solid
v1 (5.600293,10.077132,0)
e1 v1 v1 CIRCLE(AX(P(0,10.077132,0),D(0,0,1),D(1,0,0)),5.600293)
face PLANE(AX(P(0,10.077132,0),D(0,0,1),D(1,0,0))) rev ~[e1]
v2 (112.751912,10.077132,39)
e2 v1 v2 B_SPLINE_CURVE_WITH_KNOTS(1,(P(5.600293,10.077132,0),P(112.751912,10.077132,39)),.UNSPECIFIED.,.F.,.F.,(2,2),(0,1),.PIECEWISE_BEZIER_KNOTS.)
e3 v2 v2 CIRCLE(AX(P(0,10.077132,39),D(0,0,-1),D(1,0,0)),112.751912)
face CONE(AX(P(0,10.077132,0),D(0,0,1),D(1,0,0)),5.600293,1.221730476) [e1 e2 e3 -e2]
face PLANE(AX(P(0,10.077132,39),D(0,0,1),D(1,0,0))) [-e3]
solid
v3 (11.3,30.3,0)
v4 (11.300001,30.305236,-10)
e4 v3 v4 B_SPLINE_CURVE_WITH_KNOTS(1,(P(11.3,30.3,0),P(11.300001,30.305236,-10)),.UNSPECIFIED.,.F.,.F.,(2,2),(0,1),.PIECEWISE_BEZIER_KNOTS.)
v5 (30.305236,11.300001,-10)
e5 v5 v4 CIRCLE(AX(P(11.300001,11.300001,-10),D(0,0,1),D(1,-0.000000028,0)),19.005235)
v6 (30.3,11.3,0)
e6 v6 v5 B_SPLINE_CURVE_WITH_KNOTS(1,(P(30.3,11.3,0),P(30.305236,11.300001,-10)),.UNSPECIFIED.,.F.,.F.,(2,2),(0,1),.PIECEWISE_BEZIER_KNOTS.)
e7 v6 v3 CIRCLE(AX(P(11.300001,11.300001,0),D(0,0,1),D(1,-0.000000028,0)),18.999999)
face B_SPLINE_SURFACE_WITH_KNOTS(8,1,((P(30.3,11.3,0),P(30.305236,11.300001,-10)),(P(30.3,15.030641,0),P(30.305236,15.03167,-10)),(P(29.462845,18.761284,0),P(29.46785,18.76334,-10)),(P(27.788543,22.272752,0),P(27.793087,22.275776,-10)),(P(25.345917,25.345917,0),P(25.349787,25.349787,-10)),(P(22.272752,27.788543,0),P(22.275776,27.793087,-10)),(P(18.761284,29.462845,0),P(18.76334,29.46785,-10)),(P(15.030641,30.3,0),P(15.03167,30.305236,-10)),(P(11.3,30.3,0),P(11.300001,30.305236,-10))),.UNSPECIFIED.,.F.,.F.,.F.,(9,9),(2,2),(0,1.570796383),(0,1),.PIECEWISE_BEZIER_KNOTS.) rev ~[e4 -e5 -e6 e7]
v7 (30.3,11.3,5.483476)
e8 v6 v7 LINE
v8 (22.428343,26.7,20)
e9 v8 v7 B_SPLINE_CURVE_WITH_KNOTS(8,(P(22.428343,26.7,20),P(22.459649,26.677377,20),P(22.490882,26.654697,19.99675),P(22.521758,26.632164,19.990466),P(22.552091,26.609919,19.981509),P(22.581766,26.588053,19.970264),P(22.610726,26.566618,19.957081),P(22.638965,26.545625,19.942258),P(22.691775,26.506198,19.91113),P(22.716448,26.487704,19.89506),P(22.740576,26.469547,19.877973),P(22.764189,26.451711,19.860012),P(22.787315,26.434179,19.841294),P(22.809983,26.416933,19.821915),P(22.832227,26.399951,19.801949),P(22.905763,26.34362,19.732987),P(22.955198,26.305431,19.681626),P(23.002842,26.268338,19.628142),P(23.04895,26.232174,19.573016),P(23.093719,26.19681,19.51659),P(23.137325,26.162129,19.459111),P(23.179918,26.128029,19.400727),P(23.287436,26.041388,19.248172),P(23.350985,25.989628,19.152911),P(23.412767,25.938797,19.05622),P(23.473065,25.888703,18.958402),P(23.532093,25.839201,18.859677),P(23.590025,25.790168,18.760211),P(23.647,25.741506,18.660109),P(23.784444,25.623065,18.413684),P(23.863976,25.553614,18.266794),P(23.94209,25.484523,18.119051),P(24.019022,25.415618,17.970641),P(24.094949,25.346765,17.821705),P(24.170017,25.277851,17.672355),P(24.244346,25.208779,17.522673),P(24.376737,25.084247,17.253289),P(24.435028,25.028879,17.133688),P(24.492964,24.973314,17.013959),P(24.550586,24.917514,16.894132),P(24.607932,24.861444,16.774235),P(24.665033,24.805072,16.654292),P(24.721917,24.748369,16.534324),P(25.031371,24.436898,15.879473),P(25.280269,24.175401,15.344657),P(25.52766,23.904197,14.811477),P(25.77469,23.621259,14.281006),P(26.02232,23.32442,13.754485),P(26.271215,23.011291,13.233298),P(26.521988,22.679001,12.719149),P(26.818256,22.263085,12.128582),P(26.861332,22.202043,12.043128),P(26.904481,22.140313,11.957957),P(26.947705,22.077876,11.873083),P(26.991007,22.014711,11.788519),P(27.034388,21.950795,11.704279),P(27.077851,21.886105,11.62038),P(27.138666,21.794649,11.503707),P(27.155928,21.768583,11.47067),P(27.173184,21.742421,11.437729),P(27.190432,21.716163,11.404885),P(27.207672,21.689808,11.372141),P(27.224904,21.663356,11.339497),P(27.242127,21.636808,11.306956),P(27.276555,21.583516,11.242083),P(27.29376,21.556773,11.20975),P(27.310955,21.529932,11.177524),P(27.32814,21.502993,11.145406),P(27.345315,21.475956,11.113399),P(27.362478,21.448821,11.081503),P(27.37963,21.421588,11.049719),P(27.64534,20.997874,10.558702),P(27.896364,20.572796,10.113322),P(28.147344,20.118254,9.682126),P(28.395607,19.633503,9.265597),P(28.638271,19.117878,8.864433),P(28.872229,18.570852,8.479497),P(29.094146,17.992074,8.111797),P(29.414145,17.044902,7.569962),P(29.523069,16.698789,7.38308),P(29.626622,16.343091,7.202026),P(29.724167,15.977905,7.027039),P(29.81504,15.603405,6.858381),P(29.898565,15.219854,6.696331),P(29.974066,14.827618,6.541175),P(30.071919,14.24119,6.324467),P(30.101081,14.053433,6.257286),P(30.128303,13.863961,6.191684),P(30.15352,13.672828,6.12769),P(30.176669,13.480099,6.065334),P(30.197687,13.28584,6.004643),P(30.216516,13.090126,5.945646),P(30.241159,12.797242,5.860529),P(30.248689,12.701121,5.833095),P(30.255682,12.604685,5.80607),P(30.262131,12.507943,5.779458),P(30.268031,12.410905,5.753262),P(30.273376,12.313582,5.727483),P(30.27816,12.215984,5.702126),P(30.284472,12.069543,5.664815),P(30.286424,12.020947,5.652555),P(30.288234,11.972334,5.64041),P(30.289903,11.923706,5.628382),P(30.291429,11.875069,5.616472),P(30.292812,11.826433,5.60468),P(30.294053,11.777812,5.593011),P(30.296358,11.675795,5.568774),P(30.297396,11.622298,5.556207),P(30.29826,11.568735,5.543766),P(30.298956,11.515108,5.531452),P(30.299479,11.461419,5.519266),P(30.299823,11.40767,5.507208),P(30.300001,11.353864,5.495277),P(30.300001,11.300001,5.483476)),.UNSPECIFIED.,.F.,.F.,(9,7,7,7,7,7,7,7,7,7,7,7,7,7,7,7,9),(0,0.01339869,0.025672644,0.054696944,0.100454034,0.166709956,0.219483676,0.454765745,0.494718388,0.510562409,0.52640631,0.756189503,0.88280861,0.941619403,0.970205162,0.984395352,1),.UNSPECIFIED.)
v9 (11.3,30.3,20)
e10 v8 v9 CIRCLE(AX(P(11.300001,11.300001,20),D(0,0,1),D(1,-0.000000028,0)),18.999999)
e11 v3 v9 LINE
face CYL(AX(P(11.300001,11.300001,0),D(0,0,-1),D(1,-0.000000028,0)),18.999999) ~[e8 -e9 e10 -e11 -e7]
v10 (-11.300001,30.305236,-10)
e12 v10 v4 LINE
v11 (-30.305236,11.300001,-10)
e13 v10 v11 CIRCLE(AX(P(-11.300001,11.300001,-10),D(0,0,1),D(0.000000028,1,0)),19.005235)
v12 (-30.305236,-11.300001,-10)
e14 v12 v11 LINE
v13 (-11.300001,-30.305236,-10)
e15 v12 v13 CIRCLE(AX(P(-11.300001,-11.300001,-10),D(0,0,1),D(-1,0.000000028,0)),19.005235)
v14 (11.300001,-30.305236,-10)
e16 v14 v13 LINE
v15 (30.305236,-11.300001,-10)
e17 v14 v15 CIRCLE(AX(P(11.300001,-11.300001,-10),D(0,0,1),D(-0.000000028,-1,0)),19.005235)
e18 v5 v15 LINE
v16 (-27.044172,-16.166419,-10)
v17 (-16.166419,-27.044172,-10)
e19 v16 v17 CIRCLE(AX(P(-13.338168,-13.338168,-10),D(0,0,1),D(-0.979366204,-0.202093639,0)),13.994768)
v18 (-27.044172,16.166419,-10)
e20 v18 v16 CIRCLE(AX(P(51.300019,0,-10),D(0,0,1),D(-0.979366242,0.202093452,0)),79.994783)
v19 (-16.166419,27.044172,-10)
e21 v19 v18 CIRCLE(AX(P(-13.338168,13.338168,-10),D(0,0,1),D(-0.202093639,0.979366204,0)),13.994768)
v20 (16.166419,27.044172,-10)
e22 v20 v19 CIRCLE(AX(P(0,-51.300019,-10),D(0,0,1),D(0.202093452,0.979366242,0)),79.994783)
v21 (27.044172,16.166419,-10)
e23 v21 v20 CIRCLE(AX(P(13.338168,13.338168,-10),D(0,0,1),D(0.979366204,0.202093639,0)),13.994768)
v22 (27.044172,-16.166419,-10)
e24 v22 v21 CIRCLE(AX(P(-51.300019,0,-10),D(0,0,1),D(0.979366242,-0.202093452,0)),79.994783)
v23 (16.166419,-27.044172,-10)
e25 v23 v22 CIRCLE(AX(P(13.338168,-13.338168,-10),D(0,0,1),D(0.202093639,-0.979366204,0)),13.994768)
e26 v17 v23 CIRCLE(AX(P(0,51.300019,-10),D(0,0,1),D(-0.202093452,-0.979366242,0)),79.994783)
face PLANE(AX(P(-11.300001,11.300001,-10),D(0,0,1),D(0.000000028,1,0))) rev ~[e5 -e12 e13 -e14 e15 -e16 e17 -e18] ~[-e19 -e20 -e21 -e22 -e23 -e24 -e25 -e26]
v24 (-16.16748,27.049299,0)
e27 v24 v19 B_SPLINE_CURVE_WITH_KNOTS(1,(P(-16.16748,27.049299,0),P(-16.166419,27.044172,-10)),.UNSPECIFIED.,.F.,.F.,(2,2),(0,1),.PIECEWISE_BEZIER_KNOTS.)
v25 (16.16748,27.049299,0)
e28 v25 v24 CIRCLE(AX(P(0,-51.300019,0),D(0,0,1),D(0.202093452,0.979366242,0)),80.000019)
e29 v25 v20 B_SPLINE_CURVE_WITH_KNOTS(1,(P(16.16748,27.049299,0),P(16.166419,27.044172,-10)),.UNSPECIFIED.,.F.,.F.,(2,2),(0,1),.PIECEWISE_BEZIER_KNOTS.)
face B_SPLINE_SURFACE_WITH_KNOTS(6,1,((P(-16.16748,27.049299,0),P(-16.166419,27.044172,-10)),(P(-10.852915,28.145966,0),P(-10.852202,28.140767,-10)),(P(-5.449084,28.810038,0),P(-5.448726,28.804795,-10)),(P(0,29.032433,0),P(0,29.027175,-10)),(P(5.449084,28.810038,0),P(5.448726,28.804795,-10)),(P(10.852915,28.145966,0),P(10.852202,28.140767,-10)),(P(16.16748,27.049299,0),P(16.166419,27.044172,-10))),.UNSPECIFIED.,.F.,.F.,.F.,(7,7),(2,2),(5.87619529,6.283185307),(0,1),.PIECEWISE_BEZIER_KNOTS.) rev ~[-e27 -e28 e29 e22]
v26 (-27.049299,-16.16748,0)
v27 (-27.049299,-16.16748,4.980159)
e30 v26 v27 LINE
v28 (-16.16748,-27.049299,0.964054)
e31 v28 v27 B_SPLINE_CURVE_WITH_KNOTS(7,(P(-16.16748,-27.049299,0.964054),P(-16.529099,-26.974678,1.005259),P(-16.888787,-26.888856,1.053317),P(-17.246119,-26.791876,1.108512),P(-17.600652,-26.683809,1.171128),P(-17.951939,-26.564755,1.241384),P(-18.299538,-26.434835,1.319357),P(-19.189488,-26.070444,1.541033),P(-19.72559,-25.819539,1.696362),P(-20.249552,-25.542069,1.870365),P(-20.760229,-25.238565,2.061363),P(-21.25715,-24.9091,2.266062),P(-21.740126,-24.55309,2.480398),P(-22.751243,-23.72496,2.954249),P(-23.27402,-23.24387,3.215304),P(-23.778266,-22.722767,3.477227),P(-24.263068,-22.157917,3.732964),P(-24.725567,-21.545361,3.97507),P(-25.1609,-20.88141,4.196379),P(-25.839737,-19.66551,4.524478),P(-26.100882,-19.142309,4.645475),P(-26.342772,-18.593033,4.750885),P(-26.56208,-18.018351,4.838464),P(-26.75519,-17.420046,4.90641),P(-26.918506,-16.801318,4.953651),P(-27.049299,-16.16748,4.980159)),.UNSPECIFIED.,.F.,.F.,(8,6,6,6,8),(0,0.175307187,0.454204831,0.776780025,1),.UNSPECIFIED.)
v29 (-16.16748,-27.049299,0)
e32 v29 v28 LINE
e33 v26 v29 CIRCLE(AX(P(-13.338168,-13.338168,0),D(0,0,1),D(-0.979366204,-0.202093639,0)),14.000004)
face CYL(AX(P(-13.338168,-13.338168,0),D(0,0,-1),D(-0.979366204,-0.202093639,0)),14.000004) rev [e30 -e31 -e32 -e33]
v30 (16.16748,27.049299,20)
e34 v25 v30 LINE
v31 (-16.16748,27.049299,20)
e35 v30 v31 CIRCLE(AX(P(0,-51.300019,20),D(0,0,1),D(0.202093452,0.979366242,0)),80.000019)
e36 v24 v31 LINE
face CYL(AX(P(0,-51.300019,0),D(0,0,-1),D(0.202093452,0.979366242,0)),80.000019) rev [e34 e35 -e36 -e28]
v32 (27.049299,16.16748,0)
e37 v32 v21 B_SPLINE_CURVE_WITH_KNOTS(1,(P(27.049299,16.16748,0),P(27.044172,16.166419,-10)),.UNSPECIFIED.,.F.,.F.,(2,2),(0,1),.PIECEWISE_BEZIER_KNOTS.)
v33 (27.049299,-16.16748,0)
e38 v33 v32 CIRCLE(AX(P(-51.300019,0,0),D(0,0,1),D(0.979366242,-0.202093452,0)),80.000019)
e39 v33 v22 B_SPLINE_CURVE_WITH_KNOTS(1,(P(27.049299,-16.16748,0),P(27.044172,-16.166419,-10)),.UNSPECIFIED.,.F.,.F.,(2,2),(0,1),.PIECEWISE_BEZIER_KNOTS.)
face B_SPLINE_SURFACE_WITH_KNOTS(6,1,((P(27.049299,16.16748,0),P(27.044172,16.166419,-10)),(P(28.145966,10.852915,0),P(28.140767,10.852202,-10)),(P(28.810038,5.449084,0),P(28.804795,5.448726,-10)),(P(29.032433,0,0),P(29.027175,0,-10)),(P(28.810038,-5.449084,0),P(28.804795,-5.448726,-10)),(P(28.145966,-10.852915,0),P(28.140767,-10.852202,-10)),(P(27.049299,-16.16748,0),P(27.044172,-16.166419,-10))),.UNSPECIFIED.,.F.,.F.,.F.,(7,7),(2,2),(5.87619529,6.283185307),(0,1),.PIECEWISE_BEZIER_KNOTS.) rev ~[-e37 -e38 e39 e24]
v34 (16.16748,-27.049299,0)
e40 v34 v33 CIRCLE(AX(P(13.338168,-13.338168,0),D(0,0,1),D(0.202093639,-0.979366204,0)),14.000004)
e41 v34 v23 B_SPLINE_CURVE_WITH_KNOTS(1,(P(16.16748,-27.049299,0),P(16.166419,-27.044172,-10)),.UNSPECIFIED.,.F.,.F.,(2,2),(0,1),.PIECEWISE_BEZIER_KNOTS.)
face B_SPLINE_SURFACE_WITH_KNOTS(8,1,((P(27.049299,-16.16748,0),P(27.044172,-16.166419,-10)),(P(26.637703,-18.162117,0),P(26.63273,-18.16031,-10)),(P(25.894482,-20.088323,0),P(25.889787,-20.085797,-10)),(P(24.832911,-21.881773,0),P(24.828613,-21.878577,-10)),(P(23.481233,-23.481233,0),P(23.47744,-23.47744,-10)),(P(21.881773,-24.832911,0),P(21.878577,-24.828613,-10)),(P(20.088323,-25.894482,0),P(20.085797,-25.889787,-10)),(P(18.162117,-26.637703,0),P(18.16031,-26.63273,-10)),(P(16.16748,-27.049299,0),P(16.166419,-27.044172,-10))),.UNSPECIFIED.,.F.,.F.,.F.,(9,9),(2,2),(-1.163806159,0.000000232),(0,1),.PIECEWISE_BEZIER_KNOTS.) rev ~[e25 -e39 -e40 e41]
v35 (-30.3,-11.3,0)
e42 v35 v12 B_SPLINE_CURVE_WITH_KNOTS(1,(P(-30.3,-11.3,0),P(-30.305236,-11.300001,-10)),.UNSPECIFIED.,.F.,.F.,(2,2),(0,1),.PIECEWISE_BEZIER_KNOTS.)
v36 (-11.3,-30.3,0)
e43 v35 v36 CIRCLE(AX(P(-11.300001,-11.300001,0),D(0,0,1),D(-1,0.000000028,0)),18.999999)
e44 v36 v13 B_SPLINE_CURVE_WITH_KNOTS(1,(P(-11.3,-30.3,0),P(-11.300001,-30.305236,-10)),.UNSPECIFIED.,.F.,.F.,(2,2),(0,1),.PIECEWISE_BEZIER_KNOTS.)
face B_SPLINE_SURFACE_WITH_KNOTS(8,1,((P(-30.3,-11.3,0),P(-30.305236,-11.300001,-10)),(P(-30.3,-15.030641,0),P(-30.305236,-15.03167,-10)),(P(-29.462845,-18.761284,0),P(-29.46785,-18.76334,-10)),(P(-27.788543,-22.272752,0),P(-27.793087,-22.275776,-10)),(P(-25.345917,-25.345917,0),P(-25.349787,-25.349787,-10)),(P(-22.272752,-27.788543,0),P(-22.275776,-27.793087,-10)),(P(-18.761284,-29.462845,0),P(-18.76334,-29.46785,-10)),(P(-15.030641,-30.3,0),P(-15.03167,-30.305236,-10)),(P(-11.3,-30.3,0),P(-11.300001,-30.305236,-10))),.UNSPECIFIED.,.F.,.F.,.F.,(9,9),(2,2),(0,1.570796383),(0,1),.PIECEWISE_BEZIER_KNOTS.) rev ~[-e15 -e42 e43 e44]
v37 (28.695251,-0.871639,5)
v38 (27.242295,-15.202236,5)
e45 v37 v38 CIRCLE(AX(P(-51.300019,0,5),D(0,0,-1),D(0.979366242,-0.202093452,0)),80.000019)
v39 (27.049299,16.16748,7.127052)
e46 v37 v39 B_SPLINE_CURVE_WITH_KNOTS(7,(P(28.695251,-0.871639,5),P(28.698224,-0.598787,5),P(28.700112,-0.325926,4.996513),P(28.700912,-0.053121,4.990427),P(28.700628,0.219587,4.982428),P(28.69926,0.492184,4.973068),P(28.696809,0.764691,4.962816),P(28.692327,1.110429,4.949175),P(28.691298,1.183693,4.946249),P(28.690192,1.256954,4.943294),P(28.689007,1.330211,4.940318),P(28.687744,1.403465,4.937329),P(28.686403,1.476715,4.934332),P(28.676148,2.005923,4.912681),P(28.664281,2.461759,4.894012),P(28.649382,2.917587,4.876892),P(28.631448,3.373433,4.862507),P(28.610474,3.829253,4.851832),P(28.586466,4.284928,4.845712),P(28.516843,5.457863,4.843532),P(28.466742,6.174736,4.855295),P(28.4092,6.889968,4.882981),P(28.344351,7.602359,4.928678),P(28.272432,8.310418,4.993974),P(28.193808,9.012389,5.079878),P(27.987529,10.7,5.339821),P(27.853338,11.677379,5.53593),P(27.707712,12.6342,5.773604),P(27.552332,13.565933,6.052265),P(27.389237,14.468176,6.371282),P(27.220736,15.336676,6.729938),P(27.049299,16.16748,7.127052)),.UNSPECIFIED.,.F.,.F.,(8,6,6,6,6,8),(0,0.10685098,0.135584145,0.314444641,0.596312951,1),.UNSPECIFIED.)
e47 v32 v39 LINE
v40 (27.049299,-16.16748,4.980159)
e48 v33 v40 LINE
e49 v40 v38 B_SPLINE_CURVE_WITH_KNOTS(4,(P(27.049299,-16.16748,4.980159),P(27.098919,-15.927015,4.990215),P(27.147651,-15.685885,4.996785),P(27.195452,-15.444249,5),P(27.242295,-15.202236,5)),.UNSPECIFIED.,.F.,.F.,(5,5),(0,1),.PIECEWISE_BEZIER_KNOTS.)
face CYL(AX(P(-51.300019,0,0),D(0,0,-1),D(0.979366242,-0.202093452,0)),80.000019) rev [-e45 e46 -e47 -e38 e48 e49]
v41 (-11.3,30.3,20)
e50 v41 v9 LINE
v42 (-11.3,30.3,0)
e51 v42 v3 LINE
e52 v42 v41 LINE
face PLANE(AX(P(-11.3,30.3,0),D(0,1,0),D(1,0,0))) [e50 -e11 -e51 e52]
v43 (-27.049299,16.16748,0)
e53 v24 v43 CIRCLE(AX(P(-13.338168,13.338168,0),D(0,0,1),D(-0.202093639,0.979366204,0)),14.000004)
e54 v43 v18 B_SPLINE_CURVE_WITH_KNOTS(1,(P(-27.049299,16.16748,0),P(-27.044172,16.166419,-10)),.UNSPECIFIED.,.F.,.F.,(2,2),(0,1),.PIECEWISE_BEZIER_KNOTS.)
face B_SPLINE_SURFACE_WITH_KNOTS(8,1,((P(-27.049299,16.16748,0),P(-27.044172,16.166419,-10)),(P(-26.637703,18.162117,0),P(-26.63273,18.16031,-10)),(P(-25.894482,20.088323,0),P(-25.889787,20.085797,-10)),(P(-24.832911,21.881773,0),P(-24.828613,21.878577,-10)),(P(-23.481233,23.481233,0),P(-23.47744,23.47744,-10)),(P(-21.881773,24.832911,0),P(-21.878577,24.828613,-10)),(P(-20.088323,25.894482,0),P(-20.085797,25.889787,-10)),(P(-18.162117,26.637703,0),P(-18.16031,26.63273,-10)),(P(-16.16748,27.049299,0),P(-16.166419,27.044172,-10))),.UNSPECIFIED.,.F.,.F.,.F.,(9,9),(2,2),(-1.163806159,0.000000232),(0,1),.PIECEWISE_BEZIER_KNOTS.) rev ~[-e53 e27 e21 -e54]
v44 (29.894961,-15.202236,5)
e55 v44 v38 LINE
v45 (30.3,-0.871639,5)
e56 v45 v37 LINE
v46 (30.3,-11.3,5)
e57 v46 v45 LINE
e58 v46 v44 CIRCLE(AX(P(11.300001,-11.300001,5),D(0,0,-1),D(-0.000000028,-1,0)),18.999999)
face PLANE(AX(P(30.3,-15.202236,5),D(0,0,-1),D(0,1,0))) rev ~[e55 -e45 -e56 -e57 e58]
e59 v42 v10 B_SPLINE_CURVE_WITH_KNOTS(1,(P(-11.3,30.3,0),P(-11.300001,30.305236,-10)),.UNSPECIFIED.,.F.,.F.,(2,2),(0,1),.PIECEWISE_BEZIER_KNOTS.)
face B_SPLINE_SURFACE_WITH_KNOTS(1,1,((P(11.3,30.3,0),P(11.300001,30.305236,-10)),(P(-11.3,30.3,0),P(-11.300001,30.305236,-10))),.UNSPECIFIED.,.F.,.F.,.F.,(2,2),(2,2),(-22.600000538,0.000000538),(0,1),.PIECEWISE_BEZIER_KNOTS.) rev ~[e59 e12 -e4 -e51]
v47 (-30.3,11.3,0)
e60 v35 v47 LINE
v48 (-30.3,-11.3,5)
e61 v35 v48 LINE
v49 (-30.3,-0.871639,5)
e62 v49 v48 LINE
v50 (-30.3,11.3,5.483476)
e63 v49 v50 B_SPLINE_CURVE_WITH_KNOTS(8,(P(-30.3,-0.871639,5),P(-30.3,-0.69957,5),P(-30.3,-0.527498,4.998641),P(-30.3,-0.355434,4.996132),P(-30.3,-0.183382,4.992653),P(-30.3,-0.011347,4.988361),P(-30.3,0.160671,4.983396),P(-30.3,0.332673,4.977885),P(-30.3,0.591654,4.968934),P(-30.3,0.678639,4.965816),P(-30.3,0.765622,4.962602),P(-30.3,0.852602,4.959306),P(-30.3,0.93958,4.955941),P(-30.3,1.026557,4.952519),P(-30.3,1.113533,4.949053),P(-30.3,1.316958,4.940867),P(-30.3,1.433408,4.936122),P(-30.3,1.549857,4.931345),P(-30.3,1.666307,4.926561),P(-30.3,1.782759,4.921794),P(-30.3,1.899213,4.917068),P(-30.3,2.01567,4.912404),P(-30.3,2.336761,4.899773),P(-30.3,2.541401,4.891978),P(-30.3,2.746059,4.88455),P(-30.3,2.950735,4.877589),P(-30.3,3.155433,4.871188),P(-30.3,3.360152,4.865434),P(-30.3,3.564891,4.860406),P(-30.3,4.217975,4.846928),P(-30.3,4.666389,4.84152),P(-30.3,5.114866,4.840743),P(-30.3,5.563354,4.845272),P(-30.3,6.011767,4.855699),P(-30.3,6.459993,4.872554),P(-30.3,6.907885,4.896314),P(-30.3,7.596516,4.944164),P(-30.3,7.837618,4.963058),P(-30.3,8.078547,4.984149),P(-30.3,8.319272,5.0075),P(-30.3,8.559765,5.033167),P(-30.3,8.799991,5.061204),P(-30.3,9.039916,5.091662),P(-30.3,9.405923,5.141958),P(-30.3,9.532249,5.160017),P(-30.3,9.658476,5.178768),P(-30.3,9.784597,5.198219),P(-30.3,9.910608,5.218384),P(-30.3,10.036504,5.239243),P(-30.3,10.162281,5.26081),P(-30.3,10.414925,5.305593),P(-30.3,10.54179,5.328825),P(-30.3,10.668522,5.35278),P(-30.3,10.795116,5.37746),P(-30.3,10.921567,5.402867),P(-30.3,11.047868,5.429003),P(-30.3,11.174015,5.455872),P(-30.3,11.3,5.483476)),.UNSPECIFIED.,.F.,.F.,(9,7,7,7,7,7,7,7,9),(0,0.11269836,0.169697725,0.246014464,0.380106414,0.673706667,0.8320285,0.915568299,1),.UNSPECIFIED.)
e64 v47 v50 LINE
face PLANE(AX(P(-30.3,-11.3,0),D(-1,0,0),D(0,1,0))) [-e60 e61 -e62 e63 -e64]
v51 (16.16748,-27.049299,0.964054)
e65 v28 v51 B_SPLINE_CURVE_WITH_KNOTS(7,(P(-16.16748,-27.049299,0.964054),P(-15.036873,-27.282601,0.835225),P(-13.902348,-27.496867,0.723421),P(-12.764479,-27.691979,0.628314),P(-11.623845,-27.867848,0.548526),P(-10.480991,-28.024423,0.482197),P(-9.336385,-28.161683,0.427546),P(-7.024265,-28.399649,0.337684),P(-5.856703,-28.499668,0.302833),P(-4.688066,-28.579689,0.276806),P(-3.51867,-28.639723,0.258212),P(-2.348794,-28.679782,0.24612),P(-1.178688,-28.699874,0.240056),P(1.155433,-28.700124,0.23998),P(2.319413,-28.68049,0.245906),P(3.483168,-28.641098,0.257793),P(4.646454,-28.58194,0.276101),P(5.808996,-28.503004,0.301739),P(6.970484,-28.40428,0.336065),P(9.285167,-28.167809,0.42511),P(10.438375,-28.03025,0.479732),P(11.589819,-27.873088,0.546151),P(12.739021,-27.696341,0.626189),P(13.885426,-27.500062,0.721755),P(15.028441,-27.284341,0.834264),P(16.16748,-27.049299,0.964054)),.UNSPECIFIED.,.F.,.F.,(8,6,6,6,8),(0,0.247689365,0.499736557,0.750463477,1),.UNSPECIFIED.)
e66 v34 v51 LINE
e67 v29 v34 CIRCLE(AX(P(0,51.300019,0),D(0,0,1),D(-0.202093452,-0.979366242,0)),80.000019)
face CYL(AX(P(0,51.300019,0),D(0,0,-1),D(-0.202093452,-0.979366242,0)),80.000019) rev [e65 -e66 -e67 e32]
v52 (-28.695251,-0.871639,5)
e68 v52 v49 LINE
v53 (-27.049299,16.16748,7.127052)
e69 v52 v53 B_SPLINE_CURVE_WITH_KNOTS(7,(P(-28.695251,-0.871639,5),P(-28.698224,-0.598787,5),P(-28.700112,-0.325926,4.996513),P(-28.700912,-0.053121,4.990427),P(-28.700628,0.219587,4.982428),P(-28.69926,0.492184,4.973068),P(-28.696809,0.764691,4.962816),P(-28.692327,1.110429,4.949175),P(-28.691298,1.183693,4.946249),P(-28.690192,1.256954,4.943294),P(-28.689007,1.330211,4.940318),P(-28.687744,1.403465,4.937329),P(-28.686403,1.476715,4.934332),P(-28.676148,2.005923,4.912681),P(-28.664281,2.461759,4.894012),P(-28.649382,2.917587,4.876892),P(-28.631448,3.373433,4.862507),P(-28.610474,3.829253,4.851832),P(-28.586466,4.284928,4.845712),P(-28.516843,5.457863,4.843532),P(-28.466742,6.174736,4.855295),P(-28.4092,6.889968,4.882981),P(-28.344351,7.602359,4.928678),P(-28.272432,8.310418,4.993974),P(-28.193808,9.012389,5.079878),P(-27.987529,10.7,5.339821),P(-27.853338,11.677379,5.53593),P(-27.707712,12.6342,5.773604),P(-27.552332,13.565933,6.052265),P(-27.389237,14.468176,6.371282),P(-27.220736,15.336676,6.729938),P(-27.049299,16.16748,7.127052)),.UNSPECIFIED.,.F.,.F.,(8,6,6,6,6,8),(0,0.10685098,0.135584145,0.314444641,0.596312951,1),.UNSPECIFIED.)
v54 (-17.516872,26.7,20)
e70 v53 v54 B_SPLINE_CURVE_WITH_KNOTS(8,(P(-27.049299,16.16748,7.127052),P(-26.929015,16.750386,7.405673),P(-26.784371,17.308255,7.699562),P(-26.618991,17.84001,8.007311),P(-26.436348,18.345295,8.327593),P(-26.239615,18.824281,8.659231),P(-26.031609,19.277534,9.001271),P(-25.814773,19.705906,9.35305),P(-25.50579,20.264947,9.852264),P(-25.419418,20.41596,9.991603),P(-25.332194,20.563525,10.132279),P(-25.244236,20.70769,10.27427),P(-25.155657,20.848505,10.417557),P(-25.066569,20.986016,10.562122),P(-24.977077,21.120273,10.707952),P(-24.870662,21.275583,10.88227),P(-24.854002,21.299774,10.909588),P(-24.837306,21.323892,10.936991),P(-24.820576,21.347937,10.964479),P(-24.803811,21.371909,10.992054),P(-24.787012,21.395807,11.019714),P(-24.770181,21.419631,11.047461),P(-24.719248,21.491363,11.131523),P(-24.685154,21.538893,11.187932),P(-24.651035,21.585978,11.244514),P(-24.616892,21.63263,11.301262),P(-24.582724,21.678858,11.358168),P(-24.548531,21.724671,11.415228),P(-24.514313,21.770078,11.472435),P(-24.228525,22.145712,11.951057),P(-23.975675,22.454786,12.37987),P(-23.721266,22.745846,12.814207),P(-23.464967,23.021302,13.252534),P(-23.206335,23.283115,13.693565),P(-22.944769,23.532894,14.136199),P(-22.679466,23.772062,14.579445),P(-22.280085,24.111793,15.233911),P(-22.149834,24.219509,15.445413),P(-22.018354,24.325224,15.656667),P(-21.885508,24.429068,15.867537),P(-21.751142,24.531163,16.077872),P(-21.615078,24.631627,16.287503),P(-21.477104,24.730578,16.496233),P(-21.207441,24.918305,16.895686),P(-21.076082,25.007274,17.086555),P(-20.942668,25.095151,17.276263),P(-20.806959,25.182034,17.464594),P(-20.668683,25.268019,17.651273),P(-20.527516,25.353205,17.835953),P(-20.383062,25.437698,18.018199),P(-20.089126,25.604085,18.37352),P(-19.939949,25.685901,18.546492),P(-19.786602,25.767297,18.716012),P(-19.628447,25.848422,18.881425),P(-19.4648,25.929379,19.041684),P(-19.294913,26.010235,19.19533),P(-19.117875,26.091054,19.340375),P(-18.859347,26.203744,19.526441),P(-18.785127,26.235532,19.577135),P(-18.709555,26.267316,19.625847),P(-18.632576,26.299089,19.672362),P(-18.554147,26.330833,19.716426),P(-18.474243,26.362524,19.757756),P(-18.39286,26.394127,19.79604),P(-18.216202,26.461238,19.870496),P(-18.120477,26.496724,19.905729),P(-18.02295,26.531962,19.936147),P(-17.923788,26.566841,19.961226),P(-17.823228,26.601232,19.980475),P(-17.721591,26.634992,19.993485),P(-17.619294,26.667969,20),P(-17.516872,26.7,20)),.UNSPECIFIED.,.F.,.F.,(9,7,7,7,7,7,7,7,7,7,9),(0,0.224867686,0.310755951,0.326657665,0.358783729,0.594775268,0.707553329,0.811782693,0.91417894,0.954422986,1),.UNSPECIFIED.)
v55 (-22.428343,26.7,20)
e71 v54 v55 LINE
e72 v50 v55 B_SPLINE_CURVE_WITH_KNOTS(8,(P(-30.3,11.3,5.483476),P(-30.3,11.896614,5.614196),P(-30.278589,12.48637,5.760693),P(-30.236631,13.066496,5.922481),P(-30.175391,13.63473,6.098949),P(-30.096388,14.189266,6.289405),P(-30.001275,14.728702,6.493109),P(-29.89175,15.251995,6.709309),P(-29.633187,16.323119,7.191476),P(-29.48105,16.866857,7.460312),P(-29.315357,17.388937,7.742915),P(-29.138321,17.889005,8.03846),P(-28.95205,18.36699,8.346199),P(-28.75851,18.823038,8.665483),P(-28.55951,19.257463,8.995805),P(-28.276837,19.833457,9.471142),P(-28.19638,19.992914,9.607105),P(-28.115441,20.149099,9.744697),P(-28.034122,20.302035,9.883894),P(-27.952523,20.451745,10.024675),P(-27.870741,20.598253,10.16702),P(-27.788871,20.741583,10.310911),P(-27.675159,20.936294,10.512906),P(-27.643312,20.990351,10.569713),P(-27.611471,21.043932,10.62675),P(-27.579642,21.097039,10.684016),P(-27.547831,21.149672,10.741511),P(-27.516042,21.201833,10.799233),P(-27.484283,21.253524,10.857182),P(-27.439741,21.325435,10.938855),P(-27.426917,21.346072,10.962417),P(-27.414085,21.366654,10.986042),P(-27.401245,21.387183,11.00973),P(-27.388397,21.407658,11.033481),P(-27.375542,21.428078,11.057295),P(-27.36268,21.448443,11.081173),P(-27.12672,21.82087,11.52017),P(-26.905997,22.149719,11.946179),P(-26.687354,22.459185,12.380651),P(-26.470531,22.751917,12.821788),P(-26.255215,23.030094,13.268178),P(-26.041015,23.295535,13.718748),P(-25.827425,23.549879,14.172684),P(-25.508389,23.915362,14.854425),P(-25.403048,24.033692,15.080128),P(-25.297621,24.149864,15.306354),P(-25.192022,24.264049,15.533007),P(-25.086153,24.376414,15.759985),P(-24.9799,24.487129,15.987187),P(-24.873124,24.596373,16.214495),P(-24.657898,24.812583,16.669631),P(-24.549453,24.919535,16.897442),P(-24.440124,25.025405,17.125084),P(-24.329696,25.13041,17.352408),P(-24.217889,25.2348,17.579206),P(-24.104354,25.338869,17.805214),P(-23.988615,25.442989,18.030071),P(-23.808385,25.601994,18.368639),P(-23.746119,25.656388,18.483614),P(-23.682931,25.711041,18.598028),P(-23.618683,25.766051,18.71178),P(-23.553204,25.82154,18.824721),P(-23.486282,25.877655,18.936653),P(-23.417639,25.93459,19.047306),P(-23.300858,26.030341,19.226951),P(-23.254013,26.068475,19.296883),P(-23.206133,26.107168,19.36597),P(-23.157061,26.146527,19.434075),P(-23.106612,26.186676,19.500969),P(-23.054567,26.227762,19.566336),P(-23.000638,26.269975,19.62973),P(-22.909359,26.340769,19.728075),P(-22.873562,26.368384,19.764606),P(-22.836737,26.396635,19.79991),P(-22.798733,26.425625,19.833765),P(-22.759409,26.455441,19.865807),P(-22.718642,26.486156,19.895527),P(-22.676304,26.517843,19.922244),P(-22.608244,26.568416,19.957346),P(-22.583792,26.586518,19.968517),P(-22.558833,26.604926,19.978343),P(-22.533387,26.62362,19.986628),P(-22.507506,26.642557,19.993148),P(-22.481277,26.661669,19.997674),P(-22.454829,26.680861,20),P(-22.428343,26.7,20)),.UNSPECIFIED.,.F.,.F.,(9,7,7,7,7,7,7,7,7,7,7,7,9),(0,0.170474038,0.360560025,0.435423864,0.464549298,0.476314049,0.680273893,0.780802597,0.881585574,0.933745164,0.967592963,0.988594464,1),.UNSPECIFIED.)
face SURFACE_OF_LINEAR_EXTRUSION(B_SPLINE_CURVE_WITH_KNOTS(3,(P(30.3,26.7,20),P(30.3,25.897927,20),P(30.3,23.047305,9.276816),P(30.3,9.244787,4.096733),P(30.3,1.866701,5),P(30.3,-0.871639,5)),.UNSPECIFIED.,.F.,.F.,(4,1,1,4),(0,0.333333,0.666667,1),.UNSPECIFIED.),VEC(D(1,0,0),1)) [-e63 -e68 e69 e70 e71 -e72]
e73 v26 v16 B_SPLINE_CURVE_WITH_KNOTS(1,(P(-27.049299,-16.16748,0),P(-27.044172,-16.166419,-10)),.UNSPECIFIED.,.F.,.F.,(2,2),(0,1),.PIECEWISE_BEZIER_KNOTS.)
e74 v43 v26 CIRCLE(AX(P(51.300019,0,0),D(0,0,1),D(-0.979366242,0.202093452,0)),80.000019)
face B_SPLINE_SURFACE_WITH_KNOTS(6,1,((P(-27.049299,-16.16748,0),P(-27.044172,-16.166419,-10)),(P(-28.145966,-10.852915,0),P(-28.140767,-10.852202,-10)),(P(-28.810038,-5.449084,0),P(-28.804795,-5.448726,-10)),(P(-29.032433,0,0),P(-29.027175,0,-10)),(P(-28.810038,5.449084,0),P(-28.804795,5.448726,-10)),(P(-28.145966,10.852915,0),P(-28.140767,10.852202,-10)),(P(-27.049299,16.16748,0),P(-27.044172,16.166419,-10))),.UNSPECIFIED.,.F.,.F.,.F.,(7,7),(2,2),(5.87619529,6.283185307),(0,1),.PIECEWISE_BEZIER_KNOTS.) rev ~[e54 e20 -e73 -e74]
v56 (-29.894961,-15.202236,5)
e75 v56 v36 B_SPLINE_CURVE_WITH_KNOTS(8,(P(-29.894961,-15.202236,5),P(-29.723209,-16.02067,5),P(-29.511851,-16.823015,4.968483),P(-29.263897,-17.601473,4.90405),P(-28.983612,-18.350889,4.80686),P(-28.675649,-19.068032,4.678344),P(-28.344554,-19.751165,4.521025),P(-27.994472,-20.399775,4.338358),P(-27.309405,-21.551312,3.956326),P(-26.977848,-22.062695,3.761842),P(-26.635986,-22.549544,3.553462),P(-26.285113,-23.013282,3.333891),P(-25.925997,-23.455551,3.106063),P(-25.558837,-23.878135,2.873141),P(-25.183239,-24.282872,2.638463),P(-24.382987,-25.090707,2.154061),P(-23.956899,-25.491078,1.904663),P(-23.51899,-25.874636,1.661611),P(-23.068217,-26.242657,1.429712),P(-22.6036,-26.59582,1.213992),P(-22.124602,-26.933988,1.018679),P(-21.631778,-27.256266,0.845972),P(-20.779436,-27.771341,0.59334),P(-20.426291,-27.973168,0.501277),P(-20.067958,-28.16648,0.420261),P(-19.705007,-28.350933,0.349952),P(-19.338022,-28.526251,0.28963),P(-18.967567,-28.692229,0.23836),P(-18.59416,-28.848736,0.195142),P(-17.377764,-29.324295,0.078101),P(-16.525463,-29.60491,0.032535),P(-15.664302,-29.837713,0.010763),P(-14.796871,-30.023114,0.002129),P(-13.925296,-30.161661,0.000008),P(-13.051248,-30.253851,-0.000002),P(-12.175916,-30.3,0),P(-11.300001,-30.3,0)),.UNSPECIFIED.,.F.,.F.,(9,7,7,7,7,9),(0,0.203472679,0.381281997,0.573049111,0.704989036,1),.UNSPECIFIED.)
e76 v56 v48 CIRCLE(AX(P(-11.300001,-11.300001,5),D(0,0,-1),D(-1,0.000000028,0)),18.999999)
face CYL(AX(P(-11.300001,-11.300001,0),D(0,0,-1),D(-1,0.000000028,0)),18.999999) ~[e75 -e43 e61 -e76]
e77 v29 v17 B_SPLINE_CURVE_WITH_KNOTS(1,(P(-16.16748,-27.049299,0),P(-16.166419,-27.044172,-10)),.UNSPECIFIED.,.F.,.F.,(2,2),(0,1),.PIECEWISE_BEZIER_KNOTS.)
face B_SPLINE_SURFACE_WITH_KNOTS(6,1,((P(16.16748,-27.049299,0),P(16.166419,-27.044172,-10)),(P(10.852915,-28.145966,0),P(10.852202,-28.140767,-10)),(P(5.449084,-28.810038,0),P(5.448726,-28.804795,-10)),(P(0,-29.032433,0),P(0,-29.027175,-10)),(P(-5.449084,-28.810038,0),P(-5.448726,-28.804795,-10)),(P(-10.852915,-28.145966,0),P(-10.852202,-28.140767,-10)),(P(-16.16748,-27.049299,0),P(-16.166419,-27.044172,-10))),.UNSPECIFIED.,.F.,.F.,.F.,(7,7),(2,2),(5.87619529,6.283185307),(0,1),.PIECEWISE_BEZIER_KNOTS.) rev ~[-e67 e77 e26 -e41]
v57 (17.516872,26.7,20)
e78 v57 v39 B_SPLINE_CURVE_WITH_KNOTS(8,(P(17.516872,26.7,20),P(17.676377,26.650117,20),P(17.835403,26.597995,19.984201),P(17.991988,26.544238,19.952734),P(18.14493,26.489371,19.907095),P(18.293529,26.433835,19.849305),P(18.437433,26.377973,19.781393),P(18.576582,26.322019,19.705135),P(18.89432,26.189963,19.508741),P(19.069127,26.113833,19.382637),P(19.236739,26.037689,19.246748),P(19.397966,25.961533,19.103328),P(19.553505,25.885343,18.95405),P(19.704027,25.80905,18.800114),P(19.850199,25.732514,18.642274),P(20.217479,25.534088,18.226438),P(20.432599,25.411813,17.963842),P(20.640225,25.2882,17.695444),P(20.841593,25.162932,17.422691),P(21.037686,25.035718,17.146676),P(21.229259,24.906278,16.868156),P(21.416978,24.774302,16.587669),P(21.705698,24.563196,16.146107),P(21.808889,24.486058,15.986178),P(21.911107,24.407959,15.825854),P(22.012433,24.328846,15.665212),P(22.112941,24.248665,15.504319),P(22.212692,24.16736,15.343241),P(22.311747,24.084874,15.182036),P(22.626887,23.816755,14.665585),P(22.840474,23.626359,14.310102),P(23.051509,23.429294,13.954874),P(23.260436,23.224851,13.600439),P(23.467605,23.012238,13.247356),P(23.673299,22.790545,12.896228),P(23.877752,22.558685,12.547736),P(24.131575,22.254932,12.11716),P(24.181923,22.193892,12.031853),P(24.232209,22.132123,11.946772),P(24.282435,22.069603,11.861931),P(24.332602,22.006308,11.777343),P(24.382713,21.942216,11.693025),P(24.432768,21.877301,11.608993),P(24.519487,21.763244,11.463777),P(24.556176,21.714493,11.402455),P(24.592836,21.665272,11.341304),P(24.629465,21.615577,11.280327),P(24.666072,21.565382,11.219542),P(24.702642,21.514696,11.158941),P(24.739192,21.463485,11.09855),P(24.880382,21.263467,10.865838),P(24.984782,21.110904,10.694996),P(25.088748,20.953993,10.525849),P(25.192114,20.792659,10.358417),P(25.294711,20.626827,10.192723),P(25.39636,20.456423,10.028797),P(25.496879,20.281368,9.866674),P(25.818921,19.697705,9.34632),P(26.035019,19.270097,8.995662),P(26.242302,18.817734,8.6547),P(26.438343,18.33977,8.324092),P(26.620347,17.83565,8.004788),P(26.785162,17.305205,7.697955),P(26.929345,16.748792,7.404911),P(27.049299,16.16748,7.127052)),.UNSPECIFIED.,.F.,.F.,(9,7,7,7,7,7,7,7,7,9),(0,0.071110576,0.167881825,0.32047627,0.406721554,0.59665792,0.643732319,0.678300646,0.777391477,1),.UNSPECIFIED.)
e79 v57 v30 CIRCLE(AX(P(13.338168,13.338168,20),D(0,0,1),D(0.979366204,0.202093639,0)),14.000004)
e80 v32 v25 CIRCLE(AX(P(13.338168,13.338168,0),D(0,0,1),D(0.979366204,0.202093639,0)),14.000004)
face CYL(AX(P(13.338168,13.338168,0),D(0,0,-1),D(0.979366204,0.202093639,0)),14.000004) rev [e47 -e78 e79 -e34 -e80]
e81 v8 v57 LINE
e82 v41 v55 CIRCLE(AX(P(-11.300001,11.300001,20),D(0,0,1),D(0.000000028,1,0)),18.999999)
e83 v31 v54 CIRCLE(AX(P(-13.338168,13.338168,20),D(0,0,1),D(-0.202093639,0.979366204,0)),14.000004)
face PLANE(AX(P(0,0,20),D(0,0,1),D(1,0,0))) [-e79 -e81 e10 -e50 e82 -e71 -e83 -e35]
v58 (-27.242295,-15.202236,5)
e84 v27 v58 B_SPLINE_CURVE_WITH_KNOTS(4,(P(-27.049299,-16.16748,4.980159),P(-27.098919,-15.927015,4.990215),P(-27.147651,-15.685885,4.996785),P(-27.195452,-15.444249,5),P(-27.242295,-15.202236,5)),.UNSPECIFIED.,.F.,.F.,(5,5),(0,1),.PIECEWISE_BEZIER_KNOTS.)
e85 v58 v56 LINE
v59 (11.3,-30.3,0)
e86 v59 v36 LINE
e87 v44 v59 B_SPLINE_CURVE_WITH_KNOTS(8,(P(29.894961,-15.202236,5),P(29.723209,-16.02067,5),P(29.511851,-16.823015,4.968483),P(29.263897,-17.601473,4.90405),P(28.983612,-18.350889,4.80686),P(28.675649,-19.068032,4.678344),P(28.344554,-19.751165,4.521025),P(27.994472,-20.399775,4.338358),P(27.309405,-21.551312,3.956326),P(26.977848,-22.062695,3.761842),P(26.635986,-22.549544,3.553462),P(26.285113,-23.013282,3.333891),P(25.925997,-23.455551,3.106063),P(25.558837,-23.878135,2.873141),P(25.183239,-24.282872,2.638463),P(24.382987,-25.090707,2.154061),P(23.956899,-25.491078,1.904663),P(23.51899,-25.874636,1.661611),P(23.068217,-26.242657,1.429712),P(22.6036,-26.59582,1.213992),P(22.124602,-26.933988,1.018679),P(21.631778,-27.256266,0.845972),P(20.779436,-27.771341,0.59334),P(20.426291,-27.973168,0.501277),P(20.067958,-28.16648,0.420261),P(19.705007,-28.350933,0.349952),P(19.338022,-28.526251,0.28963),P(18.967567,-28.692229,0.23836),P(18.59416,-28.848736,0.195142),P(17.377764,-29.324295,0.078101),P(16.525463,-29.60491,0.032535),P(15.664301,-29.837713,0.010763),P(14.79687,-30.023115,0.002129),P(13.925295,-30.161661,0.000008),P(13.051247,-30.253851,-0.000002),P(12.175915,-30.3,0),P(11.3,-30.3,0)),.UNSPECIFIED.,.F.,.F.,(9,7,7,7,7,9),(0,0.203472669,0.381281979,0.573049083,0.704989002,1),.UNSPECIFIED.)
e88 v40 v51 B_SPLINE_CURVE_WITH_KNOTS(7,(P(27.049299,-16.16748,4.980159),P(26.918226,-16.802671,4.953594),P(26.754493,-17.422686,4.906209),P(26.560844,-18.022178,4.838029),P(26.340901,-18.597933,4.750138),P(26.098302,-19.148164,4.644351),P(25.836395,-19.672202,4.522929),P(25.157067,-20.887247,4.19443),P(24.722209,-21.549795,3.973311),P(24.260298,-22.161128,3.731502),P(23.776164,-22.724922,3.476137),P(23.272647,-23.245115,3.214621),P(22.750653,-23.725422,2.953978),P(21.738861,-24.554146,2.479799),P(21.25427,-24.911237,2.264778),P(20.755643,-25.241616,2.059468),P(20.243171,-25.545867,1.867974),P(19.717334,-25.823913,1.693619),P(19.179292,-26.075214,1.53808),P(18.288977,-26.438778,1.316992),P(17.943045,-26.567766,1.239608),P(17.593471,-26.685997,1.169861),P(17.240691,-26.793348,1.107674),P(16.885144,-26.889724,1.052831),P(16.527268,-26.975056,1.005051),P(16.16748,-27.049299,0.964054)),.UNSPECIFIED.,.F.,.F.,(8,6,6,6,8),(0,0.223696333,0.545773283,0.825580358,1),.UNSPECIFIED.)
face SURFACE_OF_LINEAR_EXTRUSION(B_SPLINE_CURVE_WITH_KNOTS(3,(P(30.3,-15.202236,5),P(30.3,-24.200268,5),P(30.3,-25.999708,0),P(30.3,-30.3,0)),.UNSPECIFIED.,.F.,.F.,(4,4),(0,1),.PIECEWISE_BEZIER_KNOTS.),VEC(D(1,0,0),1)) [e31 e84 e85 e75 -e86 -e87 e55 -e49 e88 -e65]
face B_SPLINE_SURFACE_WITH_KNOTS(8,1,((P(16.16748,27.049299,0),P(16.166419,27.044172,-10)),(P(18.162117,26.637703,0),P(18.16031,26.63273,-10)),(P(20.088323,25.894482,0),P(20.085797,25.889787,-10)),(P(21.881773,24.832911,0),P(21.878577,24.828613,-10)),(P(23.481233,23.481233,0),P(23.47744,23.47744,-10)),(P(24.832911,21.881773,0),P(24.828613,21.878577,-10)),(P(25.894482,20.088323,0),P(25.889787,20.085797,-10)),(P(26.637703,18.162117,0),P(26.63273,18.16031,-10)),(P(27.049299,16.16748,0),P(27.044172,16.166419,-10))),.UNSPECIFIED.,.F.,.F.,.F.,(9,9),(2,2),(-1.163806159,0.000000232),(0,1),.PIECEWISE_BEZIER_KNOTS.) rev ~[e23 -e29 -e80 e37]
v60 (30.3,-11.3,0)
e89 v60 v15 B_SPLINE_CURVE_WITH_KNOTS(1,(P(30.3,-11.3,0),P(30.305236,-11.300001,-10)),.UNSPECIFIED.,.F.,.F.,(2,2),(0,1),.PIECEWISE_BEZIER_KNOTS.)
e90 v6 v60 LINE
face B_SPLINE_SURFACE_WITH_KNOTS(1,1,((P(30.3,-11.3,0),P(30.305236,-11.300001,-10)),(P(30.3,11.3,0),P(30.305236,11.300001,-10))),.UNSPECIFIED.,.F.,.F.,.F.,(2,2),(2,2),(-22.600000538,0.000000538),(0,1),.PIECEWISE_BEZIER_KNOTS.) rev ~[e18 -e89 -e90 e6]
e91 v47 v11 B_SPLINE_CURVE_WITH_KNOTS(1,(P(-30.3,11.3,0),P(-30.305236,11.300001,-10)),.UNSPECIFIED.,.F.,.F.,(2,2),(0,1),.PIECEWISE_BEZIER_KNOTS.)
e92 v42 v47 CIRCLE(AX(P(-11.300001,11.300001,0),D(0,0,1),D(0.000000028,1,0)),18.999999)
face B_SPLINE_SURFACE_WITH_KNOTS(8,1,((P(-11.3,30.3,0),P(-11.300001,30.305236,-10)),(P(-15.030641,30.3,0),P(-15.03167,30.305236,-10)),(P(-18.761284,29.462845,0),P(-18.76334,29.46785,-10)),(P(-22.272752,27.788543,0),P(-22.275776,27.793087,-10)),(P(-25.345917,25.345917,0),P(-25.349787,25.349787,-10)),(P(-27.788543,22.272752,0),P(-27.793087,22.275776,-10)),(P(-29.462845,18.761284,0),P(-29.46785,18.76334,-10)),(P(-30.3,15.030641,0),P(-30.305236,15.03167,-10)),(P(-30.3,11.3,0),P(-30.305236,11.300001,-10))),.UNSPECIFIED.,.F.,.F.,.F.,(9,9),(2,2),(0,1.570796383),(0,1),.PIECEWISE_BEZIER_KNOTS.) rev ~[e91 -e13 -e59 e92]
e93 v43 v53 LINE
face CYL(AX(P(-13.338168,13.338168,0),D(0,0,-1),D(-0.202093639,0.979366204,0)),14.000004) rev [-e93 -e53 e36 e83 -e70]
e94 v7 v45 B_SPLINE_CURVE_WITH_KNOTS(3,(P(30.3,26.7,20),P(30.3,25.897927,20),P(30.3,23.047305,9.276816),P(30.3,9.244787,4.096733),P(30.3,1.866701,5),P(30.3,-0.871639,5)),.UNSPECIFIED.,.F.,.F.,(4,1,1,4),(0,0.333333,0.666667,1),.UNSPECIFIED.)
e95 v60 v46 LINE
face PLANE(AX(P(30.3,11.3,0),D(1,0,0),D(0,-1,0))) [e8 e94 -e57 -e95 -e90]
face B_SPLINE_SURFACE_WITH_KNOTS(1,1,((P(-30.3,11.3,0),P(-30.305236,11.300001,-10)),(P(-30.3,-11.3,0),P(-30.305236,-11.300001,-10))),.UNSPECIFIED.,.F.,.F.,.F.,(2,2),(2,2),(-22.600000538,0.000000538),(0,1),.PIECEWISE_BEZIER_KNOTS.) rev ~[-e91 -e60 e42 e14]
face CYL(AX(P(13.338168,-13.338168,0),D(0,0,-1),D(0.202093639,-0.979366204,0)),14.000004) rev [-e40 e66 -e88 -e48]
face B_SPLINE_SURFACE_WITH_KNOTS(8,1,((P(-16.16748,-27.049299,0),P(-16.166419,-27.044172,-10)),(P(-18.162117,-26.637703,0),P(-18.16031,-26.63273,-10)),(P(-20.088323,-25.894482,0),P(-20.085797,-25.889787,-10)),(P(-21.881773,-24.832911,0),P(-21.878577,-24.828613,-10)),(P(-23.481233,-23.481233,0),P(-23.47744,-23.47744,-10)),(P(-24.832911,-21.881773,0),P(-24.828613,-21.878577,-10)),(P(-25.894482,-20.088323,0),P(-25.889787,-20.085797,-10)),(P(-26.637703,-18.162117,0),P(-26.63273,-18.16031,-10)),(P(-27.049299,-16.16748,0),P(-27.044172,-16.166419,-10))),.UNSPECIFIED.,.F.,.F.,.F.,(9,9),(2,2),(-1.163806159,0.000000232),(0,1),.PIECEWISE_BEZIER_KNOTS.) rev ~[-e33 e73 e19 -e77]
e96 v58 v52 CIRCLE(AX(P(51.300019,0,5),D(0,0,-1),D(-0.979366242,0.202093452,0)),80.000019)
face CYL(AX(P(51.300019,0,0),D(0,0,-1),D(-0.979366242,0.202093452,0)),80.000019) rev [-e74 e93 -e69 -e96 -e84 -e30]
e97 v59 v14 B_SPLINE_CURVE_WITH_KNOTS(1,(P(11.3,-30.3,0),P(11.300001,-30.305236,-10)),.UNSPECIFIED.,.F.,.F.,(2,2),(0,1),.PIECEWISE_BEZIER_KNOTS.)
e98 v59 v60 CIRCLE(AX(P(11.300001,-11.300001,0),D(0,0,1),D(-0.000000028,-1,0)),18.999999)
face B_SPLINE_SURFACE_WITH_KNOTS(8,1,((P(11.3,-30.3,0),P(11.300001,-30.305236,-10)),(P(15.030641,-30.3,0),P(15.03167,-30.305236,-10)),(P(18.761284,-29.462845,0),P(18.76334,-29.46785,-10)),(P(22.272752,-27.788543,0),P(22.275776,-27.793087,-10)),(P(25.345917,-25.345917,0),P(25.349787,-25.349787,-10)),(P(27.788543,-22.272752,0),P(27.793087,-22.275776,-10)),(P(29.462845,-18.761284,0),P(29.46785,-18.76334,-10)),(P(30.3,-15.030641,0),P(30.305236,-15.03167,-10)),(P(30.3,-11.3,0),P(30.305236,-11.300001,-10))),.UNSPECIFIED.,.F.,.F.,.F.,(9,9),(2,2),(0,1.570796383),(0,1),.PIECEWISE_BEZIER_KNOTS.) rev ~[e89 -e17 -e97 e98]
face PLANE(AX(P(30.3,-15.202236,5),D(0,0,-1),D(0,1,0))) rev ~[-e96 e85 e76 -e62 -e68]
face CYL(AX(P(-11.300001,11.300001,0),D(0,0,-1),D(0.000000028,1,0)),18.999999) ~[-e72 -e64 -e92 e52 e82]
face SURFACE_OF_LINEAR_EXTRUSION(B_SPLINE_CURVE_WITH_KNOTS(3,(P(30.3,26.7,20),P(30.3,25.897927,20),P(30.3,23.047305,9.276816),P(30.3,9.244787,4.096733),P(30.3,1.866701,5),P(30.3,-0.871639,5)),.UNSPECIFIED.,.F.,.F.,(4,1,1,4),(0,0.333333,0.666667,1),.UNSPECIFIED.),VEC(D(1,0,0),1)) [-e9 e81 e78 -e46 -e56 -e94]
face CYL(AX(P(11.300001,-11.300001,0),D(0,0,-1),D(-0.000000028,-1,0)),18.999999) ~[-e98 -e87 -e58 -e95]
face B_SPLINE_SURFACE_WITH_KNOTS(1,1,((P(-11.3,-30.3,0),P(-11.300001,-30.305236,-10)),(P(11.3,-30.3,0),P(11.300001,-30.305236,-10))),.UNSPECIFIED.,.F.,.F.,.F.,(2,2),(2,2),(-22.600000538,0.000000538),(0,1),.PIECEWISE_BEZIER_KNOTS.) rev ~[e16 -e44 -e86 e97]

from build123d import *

# Parameters (mm, degrees)
PAD_DEPTH    = 10
PAD_TAPER    = -0.03
PAD001_DEPTH = 20
POCKET_DEPTH = 60.606236
SKETCH002_R  = 5.600293
PAD002_DEPTH = 39
PAD002_TAPER = -70


with BuildPart() as body:
    # Sketch → Pad (new body)
    with BuildSketch(Plane.XY):
        with BuildLine():
            ThreePointArc((-11.3, 30.3), (-24.735029, 24.735029), (-30.3, 11.3))
            Line((-30.3, -11.3), (-30.3, 11.3))
            ThreePointArc((-30.3, -11.3), (-24.735029, -24.735029), (-11.3, -30.3))
            Line((11.3, -30.3), (-11.3, -30.3))
            ThreePointArc((11.3, -30.3), (24.735029, -24.735029), (30.3, -11.3))
            Line((30.3, 11.3), (30.3, -11.3))
            ThreePointArc((30.3, 11.3), (24.735029, 24.735029), (11.3, 30.3))
            Line((-11.3, 30.3), (11.3, 30.3))
        make_face()
        with BuildLine():
            ThreePointArc((-16.16748, 27.049299), (-23.237666, 23.237666), (-27.049299, 16.16748))
            ThreePointArc((-27.049299, 16.16748), (-28.7, 0), (-27.049299, -16.16748))
            ThreePointArc((-27.049299, -16.16748), (-23.237666, -23.237666), (-16.16748, -27.049299))
            ThreePointArc((-16.16748, -27.049299), (0, -28.7), (16.16748, -27.049299))
            ThreePointArc((16.16748, -27.049299), (23.237666, -23.237666), (27.049299, -16.16748))
            ThreePointArc((27.049299, -16.16748), (28.7, 0), (27.049299, 16.16748))
            ThreePointArc((27.049299, 16.16748), (23.237666, 23.237666), (16.16748, 27.049299))
            ThreePointArc((16.16748, 27.049299), (0, 28.7), (-16.16748, 27.049299))
        make_face(mode=Mode.SUBTRACT)
    extrude(amount=-PAD_DEPTH, taper=PAD_TAPER)

    # Sketch → Pad001 (join)
    with BuildSketch(Plane.XY):
        with BuildLine():
            ThreePointArc((-11.3, 30.3), (-24.735029, 24.735029), (-30.3, 11.3))
            Line((-30.3, -11.3), (-30.3, 11.3))
            ThreePointArc((-30.3, -11.3), (-24.735029, -24.735029), (-11.3, -30.3))
            Line((11.3, -30.3), (-11.3, -30.3))
            ThreePointArc((11.3, -30.3), (24.735029, -24.735029), (30.3, -11.3))
            Line((30.3, 11.3), (30.3, -11.3))
            ThreePointArc((30.3, 11.3), (24.735029, 24.735029), (11.3, 30.3))
            Line((-11.3, 30.3), (11.3, 30.3))
        make_face()
        with BuildLine():
            ThreePointArc((-16.16748, 27.049299), (-23.237666, 23.237666), (-27.049299, 16.16748))
            ThreePointArc((-27.049299, 16.16748), (-28.7, 0), (-27.049299, -16.16748))
            ThreePointArc((-27.049299, -16.16748), (-23.237666, -23.237666), (-16.16748, -27.049299))
            ThreePointArc((-16.16748, -27.049299), (0, -28.7), (16.16748, -27.049299))
            ThreePointArc((16.16748, -27.049299), (23.237666, -23.237666), (27.049299, -16.16748))
            ThreePointArc((27.049299, -16.16748), (28.7, 0), (27.049299, 16.16748))
            ThreePointArc((27.049299, 16.16748), (23.237666, 23.237666), (16.16748, 27.049299))
            ThreePointArc((16.16748, 27.049299), (0, 28.7), (-16.16748, 27.049299))
        make_face(mode=Mode.SUBTRACT)
    extrude(amount=PAD001_DEPTH)

    # Sketch001 (on Face26 of Pad001) → Pocket (cut, through all)
    with BuildSketch(Plane.YZ.offset(30.3)):
        with BuildLine():
            Line((26.7, 20), (-30.3, 20))
            Line((-30.3, 20), (-30.3, 0))
            add(Edge.make_bspline(
                [(-15.202236, 5), (-24.200268, 5), (-25.999708, 0), (-30.3, 0)],
                knots=[0, 0, 0, 0, 1, 1, 1, 1], degree=3))
            Line((-15.202236, 5), (-0.871639, 5))
            add(Edge.make_bspline(
                [(26.7, 20), (25.897927, 20), (23.047305, 9.276816), (9.244787, 4.096733), (1.866701, 5), (-0.871639, 5)],
                knots=[0, 0, 0, 0, 0.333333, 0.666667, 1, 1, 1, 1], degree=3))
        make_face()
    extrude(amount=-POCKET_DEPTH, mode=Mode.SUBTRACT)


with BuildPart() as body001:
    # Sketch002 → Pad002 (new body)
    with BuildSketch(Plane.XY):
        with Locations((0, 10.077132)):
            Circle(SKETCH002_R)
    extrude(amount=PAD002_DEPTH, taper=PAD002_TAPER)


solid = Compound([body.part, body001.part])
